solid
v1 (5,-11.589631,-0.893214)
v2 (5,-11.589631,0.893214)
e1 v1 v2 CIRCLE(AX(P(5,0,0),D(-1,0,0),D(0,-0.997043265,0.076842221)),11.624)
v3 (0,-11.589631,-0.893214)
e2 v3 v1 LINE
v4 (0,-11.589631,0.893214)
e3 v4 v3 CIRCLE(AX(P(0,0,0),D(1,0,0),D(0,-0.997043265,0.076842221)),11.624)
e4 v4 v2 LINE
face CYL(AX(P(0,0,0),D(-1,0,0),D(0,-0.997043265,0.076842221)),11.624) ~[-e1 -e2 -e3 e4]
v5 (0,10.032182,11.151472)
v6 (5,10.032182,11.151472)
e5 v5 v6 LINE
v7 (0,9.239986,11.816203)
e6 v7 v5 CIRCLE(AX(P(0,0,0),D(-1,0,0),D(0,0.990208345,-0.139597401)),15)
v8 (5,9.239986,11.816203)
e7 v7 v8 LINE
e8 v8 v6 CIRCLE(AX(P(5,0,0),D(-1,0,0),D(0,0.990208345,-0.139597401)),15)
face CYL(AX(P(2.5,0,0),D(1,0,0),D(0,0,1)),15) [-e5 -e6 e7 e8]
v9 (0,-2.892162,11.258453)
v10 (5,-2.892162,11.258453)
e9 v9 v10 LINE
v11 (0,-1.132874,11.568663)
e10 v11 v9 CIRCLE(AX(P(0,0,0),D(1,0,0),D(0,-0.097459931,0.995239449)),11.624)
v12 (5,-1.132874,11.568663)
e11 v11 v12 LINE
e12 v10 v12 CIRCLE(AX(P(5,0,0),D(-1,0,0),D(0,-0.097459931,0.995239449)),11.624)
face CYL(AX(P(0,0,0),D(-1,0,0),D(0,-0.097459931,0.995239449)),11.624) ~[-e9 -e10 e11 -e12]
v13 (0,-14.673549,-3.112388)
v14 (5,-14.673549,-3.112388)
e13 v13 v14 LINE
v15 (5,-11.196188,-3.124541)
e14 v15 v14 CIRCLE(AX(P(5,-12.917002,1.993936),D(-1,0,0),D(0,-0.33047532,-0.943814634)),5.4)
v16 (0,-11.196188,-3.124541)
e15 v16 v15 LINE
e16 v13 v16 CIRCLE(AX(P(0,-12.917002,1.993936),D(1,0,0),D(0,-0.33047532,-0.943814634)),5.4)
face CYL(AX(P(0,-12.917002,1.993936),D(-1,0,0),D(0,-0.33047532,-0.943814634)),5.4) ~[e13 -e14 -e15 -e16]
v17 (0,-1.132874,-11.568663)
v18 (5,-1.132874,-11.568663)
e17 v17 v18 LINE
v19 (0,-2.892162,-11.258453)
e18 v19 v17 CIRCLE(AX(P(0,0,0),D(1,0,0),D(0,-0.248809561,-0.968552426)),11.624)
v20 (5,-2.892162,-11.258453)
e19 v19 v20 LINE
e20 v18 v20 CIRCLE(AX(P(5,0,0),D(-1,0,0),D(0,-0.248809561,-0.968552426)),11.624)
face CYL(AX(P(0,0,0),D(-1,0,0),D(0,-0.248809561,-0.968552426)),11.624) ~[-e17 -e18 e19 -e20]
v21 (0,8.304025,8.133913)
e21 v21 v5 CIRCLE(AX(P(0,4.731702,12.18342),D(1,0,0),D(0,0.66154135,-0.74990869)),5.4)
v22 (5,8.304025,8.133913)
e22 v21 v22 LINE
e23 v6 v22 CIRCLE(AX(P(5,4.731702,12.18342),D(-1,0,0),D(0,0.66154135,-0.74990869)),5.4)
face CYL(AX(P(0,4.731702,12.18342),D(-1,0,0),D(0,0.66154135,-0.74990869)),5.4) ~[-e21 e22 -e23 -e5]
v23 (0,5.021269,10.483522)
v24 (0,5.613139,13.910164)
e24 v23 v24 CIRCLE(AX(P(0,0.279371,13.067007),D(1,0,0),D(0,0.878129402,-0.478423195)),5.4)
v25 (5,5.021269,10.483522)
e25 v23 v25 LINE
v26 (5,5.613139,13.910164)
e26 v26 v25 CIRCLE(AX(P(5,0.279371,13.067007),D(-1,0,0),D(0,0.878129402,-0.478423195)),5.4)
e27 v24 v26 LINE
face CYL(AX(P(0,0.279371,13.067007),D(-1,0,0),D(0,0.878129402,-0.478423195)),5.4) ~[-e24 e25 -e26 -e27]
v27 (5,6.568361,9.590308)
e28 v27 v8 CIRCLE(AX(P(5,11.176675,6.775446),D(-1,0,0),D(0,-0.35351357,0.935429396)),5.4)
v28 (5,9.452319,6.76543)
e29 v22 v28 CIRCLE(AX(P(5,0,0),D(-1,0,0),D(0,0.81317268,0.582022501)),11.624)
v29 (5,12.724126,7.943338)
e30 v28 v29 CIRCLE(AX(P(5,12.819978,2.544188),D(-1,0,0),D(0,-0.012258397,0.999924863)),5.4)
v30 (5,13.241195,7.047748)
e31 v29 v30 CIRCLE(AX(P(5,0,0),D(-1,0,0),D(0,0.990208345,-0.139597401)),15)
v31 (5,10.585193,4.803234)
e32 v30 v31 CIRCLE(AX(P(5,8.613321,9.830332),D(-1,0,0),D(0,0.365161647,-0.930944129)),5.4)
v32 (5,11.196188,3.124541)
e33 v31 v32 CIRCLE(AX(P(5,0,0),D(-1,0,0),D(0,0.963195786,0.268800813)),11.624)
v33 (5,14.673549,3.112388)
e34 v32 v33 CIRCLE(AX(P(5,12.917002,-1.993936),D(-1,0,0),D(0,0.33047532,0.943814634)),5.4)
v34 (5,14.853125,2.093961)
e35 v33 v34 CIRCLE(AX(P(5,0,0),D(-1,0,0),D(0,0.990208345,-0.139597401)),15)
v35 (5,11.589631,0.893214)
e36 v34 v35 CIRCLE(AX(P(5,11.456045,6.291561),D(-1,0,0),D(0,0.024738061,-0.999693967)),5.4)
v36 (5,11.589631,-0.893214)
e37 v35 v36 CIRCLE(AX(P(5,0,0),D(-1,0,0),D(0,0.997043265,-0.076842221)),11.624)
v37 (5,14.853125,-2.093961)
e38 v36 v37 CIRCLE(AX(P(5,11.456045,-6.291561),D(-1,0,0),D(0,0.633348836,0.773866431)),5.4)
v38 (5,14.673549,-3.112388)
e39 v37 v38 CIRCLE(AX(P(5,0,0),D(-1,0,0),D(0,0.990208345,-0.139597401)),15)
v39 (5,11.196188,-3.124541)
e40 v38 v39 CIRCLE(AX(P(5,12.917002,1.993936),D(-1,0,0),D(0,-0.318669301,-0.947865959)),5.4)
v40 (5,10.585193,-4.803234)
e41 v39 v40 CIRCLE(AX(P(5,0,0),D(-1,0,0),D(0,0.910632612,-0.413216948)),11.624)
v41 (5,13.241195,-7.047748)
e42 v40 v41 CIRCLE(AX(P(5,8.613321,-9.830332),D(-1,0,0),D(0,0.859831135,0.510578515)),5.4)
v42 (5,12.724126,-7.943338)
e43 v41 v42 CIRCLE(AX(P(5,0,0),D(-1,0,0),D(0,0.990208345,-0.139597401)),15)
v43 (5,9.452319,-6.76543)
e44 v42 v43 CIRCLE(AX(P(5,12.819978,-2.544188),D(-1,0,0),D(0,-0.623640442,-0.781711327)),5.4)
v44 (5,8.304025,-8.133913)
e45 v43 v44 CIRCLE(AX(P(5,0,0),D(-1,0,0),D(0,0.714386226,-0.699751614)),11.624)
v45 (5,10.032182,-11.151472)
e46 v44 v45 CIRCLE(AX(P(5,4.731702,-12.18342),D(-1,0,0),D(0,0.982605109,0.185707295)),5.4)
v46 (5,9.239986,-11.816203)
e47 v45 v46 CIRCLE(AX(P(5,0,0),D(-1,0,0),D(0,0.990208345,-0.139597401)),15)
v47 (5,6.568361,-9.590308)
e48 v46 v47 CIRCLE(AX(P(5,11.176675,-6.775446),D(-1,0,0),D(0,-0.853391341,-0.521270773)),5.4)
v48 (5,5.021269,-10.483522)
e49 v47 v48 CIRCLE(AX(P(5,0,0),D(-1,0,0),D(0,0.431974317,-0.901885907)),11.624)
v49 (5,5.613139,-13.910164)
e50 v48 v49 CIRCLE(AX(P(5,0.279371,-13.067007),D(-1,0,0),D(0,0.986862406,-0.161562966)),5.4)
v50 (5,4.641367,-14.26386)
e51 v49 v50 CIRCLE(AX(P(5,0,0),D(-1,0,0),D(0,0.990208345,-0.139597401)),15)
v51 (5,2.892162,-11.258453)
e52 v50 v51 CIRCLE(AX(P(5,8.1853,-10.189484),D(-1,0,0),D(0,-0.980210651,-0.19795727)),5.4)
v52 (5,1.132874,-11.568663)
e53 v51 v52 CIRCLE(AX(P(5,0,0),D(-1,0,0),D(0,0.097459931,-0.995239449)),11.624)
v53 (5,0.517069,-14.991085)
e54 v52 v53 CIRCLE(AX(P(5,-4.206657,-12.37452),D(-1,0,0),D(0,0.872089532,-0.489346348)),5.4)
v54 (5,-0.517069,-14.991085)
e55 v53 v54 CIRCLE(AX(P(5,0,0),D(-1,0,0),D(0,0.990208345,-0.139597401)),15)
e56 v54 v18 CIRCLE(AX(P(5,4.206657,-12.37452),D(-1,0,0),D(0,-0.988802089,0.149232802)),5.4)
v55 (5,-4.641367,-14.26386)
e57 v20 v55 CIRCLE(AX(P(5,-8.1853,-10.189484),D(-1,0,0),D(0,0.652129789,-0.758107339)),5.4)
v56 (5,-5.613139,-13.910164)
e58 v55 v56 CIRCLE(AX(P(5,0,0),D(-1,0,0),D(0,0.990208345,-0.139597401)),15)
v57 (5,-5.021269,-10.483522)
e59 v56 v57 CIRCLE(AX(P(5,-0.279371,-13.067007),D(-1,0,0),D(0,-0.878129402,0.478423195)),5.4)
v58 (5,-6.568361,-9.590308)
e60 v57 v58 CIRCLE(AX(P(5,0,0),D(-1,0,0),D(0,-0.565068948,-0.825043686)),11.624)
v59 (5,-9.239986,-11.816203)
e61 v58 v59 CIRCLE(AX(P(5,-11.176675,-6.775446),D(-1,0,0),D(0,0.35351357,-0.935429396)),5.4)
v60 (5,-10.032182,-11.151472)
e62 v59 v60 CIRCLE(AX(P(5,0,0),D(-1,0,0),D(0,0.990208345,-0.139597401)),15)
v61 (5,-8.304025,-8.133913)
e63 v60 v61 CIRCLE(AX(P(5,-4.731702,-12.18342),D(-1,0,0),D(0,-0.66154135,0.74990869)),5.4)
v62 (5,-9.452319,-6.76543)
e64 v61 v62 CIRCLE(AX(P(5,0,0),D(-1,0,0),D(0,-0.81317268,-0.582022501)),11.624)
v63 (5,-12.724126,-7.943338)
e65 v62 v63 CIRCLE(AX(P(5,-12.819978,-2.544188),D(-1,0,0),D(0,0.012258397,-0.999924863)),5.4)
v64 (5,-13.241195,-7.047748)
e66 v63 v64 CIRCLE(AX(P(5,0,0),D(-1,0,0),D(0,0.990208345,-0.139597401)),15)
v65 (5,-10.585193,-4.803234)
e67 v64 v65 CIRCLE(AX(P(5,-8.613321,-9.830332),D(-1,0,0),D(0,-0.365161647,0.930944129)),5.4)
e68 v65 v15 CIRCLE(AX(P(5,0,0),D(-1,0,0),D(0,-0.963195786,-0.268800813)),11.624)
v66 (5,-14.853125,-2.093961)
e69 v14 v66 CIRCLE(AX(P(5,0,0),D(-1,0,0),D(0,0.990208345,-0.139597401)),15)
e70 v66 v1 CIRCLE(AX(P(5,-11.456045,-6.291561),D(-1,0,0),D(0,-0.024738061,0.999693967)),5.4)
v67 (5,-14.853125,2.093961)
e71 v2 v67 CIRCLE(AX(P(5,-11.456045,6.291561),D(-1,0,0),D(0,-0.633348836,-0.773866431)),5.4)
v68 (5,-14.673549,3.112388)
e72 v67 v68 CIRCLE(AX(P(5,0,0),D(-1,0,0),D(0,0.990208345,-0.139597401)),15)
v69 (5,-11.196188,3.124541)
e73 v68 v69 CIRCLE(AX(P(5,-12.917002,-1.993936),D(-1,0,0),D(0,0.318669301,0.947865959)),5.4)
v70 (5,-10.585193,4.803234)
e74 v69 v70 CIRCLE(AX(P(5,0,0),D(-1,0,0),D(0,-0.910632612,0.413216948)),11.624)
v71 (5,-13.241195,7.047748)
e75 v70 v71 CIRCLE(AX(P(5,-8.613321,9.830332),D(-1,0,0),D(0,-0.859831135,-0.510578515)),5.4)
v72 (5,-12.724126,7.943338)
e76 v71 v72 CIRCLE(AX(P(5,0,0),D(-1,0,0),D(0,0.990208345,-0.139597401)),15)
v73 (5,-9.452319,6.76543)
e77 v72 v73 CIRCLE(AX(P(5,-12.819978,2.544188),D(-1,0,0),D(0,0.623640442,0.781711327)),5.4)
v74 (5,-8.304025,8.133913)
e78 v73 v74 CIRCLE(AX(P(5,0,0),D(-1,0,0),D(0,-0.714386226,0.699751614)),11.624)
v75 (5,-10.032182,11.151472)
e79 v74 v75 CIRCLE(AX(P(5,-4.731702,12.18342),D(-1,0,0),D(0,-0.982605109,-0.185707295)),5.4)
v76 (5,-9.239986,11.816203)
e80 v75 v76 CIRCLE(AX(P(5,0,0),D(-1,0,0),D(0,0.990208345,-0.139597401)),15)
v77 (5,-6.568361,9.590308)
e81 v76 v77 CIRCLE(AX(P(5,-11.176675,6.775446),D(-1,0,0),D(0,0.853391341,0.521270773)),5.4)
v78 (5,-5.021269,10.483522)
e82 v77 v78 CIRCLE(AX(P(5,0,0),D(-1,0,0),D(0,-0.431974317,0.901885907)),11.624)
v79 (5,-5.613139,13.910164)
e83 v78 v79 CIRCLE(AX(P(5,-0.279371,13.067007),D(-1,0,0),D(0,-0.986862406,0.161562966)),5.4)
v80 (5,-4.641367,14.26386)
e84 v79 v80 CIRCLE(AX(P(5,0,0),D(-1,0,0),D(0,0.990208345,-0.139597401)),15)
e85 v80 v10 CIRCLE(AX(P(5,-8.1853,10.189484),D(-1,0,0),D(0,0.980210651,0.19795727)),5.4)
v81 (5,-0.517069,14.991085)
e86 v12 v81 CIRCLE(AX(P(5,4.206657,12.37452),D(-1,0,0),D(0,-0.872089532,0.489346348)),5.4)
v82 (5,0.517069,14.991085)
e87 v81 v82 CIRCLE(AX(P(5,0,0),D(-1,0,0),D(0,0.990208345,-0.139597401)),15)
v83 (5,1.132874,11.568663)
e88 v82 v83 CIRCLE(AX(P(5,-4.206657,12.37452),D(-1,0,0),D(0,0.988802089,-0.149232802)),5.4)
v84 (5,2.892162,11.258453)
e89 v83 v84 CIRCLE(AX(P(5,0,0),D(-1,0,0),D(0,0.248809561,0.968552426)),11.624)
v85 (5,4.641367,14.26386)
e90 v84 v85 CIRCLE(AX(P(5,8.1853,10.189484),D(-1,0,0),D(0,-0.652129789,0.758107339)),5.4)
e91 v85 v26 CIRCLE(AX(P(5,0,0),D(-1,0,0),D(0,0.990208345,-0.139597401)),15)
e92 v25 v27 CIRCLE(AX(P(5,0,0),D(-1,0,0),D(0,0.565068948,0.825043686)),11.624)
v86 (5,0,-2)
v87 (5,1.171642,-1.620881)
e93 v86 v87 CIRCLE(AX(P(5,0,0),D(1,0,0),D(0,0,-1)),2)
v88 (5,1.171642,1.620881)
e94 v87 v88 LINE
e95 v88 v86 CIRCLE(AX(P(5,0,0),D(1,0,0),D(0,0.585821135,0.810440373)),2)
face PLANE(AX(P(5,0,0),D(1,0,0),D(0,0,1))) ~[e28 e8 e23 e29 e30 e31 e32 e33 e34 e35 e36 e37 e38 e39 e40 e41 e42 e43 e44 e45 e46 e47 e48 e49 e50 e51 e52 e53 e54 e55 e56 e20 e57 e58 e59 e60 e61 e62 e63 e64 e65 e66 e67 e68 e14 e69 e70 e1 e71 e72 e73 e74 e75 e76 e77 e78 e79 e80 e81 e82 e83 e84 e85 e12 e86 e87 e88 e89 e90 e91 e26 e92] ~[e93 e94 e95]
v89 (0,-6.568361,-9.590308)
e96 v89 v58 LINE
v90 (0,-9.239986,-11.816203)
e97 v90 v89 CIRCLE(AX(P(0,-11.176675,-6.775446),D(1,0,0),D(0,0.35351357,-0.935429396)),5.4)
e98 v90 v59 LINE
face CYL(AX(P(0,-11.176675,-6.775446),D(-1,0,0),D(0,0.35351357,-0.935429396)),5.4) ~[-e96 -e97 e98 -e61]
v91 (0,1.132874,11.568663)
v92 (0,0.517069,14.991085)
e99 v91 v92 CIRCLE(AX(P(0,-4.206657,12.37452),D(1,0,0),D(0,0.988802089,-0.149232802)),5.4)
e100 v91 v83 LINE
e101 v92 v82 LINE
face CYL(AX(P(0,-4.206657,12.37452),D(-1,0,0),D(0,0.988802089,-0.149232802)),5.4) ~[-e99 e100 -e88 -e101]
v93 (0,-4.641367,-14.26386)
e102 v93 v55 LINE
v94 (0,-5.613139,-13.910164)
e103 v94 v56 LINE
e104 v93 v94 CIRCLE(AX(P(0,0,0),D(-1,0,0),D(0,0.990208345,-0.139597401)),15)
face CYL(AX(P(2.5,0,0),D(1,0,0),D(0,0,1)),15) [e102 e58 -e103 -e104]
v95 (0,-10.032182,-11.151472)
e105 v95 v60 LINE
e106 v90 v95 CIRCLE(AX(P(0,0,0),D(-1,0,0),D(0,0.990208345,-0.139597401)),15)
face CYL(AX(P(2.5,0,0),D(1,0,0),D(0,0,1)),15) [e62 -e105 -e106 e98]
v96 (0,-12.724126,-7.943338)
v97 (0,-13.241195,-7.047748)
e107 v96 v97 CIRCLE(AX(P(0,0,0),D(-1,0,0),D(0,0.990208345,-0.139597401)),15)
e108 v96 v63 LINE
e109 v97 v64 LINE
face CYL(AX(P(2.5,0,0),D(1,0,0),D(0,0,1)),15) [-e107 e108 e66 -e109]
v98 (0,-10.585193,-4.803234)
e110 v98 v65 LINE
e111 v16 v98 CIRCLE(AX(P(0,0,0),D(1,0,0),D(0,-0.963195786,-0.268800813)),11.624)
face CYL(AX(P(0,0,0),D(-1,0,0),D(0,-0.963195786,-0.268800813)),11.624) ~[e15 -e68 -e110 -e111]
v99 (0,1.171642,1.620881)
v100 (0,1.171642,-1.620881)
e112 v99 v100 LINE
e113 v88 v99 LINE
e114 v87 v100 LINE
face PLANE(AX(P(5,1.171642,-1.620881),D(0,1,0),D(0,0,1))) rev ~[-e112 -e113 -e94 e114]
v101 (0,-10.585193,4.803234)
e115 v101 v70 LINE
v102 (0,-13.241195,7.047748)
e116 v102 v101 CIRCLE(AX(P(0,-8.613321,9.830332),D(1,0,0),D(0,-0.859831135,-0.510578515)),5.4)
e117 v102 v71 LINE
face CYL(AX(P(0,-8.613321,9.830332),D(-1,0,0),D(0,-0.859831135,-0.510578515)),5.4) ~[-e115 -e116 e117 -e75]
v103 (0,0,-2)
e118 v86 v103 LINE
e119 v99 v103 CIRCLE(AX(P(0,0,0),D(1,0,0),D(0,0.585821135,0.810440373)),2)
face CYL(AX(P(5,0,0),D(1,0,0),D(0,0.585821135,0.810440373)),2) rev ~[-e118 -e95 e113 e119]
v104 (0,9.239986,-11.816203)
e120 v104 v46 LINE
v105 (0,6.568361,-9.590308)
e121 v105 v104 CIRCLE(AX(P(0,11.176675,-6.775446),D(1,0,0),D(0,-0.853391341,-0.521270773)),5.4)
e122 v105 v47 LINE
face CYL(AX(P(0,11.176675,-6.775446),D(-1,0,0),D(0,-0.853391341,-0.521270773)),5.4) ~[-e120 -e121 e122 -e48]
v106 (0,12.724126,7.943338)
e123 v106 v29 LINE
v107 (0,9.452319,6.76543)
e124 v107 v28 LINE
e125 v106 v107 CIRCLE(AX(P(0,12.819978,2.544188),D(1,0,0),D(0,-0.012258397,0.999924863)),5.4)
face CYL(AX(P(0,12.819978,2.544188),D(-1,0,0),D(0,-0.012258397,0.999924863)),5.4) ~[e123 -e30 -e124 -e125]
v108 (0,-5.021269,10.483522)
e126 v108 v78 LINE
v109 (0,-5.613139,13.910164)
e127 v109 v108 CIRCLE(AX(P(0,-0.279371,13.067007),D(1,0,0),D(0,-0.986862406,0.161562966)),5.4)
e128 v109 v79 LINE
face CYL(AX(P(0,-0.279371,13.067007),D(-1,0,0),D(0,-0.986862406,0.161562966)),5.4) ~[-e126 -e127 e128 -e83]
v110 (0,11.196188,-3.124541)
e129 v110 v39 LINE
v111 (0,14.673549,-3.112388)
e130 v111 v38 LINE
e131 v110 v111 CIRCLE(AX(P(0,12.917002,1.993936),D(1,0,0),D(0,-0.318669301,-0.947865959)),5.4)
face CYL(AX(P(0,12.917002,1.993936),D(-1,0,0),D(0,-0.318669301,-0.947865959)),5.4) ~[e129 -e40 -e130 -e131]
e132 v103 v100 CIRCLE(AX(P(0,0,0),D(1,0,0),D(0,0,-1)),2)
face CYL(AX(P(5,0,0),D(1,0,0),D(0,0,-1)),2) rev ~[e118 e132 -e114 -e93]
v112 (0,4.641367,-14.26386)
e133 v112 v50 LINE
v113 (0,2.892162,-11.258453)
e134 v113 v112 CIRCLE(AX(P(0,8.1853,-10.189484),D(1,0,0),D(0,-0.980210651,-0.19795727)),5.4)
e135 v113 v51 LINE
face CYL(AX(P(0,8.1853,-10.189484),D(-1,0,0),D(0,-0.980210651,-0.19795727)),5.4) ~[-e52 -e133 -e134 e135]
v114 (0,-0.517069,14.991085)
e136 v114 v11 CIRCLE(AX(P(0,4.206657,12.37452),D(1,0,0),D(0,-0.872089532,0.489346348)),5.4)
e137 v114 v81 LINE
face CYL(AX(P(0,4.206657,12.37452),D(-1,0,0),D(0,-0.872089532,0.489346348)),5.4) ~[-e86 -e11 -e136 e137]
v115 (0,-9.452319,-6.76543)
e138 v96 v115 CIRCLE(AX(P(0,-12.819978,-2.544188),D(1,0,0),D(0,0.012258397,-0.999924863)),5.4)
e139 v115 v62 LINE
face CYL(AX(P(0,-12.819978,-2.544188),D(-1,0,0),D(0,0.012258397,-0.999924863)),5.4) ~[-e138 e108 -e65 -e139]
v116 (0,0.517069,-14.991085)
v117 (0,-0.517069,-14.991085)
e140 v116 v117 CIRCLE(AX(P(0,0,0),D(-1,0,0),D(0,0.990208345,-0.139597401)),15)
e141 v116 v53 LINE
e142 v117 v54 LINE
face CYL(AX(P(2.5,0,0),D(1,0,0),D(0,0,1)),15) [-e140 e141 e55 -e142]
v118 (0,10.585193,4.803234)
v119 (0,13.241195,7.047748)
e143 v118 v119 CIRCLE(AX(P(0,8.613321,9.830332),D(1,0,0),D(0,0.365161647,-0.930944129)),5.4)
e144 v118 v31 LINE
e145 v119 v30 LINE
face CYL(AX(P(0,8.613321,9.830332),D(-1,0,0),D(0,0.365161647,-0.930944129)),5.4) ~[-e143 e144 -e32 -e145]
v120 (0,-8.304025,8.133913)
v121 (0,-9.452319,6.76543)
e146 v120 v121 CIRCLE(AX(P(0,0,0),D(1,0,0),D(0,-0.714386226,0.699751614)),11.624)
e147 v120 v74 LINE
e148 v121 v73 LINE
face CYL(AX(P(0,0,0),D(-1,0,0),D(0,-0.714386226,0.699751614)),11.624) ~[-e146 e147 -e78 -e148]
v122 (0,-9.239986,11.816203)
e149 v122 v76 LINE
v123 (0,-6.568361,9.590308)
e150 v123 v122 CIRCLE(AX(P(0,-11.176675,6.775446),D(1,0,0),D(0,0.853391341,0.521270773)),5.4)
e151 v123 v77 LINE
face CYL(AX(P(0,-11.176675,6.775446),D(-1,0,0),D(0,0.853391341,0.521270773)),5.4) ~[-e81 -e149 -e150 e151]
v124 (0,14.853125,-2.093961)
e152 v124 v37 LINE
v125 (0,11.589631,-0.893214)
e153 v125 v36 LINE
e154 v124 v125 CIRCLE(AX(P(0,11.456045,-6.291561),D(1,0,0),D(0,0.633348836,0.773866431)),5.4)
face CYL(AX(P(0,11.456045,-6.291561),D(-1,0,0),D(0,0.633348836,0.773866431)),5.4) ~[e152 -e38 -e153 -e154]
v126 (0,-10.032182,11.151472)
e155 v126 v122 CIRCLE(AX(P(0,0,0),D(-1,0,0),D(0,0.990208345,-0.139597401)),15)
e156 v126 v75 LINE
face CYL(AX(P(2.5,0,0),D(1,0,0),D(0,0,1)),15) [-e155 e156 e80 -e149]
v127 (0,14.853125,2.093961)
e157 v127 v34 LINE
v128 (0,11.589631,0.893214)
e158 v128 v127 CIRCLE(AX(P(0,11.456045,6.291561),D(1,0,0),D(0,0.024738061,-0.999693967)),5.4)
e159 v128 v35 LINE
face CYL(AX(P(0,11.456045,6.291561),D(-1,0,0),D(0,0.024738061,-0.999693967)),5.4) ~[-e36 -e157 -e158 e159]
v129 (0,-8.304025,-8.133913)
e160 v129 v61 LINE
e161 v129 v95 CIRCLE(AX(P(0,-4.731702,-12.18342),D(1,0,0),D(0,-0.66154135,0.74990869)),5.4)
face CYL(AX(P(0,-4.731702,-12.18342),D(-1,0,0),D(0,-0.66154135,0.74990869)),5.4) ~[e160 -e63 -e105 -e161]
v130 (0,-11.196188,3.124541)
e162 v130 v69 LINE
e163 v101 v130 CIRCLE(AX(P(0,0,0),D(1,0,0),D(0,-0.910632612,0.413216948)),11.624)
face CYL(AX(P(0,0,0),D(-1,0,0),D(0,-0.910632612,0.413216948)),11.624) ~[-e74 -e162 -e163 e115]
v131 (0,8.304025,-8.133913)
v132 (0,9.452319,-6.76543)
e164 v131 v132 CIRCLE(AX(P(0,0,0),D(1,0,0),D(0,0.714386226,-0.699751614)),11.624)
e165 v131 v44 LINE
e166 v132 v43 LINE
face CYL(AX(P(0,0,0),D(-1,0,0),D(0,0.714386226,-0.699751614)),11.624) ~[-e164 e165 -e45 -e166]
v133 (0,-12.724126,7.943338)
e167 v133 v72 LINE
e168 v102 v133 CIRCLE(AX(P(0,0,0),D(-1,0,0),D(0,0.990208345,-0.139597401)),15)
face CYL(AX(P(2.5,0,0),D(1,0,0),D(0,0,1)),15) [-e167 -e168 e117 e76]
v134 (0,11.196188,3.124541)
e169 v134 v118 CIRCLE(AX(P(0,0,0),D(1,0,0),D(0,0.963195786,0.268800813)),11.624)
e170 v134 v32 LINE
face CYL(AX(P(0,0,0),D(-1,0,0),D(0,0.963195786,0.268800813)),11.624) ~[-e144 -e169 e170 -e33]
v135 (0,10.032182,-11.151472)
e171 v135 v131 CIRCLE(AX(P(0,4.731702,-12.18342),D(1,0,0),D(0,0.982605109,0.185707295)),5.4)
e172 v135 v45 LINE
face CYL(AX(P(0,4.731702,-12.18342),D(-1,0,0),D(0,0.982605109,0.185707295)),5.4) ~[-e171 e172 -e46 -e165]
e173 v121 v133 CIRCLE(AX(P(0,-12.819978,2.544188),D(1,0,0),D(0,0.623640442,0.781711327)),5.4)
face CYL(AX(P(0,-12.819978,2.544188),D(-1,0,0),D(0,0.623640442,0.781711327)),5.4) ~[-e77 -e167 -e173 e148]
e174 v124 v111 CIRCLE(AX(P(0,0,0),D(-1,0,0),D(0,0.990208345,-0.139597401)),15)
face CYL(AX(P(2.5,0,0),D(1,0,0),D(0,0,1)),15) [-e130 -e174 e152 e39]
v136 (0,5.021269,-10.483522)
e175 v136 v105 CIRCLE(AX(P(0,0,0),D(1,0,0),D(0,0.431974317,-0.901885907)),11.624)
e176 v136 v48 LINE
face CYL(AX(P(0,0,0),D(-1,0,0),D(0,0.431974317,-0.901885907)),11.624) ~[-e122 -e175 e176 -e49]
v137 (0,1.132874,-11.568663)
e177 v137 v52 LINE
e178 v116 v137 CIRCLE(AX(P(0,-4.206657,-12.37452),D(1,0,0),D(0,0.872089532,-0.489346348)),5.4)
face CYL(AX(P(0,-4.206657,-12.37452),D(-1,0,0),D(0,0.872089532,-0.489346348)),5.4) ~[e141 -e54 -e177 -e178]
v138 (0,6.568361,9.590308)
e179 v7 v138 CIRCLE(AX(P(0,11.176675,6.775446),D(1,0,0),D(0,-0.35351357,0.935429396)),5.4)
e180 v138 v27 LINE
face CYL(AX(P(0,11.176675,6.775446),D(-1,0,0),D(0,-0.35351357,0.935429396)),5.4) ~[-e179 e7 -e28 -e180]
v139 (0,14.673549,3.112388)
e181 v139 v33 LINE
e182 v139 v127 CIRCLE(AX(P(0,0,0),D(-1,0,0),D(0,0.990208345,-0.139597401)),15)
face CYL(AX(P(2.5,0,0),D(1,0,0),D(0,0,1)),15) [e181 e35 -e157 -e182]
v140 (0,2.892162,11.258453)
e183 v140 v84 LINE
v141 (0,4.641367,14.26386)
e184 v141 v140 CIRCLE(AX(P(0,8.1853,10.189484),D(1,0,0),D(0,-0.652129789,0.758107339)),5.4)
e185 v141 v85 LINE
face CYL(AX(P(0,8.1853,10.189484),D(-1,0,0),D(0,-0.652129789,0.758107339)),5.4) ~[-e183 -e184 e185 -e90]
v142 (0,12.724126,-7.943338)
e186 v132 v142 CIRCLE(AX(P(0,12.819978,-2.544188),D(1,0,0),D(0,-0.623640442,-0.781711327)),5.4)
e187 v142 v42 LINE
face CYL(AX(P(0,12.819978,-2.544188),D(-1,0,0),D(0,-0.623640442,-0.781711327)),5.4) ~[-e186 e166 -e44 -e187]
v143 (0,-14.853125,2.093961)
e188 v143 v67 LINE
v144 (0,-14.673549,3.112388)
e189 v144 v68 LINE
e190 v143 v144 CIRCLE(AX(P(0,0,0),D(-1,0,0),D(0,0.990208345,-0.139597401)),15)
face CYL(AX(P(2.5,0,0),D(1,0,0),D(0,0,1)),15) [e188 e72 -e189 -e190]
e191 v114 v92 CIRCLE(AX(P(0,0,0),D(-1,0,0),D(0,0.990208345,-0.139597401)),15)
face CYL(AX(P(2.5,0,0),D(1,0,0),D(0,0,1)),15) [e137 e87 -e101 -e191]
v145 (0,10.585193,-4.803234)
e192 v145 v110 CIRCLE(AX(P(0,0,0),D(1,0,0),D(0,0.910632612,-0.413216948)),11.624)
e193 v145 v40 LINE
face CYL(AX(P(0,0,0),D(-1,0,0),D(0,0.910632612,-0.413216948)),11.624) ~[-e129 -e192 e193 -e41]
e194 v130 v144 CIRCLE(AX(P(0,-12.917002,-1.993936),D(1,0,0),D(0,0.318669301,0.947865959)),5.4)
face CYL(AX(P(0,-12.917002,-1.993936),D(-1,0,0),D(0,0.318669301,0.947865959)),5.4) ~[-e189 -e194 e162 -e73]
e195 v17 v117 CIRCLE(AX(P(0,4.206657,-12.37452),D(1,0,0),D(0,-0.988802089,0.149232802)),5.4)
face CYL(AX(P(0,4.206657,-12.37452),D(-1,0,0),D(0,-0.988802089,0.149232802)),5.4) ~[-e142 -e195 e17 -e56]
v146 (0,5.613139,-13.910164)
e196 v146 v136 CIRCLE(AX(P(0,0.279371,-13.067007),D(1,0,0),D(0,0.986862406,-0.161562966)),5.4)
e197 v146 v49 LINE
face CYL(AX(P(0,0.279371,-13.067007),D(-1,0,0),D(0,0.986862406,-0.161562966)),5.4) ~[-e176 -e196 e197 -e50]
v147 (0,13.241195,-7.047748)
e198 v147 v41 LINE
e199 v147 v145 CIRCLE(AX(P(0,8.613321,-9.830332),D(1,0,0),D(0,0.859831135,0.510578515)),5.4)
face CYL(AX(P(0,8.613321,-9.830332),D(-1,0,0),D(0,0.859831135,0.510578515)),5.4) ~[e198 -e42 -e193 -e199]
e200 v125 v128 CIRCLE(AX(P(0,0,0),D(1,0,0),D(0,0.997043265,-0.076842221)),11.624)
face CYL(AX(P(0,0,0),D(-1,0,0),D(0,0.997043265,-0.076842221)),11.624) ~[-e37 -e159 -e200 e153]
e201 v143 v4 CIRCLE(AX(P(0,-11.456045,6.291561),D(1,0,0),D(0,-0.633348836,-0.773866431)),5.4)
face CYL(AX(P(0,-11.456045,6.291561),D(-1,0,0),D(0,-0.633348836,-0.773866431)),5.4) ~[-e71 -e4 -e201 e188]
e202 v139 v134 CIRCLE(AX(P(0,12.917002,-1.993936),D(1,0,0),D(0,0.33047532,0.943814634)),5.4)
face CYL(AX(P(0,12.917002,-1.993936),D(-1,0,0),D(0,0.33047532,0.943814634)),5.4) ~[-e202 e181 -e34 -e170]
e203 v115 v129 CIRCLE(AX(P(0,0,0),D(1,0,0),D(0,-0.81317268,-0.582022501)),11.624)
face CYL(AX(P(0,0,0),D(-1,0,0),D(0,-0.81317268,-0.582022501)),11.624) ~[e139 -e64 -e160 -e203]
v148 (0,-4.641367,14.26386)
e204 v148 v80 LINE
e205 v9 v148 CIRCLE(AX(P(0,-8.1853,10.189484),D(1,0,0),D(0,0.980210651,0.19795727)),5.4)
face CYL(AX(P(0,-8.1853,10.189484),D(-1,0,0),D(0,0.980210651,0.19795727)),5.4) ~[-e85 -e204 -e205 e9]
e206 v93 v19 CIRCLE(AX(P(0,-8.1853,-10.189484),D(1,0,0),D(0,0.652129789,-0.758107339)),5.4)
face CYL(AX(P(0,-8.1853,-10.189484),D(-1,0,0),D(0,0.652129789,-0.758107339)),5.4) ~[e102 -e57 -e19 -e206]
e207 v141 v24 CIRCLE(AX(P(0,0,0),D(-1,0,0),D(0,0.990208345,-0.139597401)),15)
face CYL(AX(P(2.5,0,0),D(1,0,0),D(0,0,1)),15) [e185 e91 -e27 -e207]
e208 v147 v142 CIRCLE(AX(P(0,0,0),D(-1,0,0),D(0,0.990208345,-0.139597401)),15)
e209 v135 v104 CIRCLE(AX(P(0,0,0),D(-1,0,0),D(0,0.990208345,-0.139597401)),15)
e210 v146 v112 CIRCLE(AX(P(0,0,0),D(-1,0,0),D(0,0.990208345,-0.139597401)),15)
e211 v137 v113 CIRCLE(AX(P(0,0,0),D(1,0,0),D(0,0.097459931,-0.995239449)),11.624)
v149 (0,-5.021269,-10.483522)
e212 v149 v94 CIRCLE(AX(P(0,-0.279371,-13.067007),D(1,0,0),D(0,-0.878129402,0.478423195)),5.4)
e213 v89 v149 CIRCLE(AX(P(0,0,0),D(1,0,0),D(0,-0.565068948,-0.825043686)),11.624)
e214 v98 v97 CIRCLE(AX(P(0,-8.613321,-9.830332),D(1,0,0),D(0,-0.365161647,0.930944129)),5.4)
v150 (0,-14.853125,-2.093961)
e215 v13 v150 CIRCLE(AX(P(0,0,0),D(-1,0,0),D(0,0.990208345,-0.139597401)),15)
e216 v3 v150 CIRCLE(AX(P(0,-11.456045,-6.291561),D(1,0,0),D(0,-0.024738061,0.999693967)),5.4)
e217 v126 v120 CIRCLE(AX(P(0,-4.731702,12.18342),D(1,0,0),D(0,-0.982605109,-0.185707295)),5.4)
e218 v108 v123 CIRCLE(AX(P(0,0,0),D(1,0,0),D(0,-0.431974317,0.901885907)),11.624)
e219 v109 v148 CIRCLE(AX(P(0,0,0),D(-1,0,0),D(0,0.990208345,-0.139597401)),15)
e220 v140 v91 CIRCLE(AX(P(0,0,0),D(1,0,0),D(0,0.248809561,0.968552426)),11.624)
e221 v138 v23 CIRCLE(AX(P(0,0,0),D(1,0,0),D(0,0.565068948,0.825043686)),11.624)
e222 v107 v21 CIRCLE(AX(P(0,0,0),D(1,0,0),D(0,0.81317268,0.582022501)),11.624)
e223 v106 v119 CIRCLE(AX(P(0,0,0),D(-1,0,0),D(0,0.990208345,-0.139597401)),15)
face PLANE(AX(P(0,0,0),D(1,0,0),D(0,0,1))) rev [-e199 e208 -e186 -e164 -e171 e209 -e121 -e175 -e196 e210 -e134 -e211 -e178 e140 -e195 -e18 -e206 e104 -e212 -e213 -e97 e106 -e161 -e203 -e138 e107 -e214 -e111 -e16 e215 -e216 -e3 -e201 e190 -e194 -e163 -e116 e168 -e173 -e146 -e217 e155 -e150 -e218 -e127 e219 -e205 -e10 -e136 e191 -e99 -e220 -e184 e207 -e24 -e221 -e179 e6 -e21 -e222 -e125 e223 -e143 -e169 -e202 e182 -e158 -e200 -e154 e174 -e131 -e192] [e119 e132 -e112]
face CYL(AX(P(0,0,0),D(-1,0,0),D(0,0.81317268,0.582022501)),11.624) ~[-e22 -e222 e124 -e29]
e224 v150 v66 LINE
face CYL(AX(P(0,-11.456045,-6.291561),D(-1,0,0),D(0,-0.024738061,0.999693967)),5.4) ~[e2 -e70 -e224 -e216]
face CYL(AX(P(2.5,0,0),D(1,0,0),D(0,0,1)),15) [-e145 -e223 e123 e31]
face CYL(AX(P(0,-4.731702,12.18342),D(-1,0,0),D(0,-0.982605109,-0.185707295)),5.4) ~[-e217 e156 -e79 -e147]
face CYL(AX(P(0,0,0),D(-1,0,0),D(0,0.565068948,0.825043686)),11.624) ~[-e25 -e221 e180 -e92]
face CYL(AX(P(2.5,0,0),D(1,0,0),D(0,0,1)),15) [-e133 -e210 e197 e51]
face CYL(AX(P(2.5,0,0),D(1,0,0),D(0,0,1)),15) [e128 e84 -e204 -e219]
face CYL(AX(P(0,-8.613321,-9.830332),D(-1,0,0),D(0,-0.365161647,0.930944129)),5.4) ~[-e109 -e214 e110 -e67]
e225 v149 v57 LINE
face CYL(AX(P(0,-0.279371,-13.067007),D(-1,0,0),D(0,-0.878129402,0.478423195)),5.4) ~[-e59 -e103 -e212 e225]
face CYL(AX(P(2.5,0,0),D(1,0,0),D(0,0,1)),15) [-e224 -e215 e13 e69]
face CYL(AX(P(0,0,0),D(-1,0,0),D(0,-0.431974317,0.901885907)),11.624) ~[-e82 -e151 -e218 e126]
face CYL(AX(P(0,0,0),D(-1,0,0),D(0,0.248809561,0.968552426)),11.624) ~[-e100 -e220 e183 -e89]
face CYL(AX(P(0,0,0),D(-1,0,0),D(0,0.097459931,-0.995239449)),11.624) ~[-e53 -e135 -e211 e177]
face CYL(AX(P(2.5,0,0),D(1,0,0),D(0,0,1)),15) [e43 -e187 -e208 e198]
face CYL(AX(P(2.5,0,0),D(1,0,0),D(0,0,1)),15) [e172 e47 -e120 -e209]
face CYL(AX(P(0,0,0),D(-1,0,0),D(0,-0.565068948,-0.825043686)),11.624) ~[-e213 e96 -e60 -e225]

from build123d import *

# Parameters (mm, degrees)
BASPROSKE_W        = 5
BASPROSKE_H        = 15
TOOTHCUT_DEPTH     = 22.794494718
TEETHCUTS_COUNT    = 18
TEETHCUTS_ANGLE    = 340
BORSKE_R           = 0.4
BORE_DEPTH         = 50.0000508
CUT_EXTRUDE1_DEPTH = 22.693670212


with BuildPart() as part:
    # BasProSke → Base-Revolve (revolve)
    with BuildSketch(Plane(origin=(0, 0, 0), x_dir=(1, 0, 0), z_dir=(0, 1, 0)), mode=Mode.PRIVATE) as base_revolve_sk:
        with Locations((2.5, 7.5)):
            Rectangle(BASPROSKE_W, BASPROSKE_H)
    revolve(base_revolve_sk.sketch.rotate(Axis((-10, 0, 0), (1, 0, 0)), 180), axis=Axis((-10, 0, 0), (1, 0, 0)))

    # TooCutSke → ToothCut (cut, through all)
    with BuildSketch(Plane(origin=(0, 0, 0), x_dir=(0, 0, -1), z_dir=(1, 0, 0))):
        with BuildLine():
            ThreePointArc((0.893213978, 11.589630917), (0, 11.624), (-0.893213978, 11.589630917))
            ThreePointArc((-0.893213978, 11.589630917), (-1.228846443, 13.334586644), (-2.112682677, 14.876129102))
            ThreePointArc((-2.112682677, 14.876129102), (0, 15.0254), (2.112682677, 14.876129102))
            ThreePointArc((2.112682677, 14.876129102), (1.228846443, 13.334586644), (0.893213978, 11.589630917))
        make_face()
    toothcut = extrude(amount=TOOTHCUT_DEPTH, mode=Mode.SUBTRACT)

    # TeethCuts: ToothCut ×18 about axis
    teethcuts_axis = Axis((-10, 0, 0), (1, 0, 0))
    for i in range(1, TEETHCUTS_COUNT):
        add(toothcut.rotate(teethcuts_axis, i * TEETHCUTS_ANGLE / (TEETHCUTS_COUNT - 1)), mode=Mode.SUBTRACT)

    # BorSke → Bore (cut, symmetric)
    with BuildSketch(Plane(origin=(0, 0, 0), x_dir=(0, 0, -1), z_dir=(1, 0, 0))):
        with Locations(Location((0, 0, 0), (0, 0, 180))):
            Circle(BORSKE_R)
    extrude(amount=BORE_DEPTH, both=True, mode=Mode.SUBTRACT)

    # Sketch1 → Cut-Extrude1 (cut, through all)
    with BuildSketch(Plane(origin=(5, 0, 0), x_dir=(0, 0, -1), z_dir=(1, 0, 0))):
        with BuildLine():
            Line((1.620880746, 1.171642269), (-1.620880746, 1.171642269))
            ThreePointArc((-1.620880746, 1.171642269), (-0.615726606, -1.9028612), (2, 0))
            ThreePointArc((2, 0), (1.9028612, 0.615726606), (1.620880746, 1.171642269))
        make_face()
    extrude(amount=-CUT_EXTRUDE1_DEPTH, mode=Mode.SUBTRACT)


solid = part.part
